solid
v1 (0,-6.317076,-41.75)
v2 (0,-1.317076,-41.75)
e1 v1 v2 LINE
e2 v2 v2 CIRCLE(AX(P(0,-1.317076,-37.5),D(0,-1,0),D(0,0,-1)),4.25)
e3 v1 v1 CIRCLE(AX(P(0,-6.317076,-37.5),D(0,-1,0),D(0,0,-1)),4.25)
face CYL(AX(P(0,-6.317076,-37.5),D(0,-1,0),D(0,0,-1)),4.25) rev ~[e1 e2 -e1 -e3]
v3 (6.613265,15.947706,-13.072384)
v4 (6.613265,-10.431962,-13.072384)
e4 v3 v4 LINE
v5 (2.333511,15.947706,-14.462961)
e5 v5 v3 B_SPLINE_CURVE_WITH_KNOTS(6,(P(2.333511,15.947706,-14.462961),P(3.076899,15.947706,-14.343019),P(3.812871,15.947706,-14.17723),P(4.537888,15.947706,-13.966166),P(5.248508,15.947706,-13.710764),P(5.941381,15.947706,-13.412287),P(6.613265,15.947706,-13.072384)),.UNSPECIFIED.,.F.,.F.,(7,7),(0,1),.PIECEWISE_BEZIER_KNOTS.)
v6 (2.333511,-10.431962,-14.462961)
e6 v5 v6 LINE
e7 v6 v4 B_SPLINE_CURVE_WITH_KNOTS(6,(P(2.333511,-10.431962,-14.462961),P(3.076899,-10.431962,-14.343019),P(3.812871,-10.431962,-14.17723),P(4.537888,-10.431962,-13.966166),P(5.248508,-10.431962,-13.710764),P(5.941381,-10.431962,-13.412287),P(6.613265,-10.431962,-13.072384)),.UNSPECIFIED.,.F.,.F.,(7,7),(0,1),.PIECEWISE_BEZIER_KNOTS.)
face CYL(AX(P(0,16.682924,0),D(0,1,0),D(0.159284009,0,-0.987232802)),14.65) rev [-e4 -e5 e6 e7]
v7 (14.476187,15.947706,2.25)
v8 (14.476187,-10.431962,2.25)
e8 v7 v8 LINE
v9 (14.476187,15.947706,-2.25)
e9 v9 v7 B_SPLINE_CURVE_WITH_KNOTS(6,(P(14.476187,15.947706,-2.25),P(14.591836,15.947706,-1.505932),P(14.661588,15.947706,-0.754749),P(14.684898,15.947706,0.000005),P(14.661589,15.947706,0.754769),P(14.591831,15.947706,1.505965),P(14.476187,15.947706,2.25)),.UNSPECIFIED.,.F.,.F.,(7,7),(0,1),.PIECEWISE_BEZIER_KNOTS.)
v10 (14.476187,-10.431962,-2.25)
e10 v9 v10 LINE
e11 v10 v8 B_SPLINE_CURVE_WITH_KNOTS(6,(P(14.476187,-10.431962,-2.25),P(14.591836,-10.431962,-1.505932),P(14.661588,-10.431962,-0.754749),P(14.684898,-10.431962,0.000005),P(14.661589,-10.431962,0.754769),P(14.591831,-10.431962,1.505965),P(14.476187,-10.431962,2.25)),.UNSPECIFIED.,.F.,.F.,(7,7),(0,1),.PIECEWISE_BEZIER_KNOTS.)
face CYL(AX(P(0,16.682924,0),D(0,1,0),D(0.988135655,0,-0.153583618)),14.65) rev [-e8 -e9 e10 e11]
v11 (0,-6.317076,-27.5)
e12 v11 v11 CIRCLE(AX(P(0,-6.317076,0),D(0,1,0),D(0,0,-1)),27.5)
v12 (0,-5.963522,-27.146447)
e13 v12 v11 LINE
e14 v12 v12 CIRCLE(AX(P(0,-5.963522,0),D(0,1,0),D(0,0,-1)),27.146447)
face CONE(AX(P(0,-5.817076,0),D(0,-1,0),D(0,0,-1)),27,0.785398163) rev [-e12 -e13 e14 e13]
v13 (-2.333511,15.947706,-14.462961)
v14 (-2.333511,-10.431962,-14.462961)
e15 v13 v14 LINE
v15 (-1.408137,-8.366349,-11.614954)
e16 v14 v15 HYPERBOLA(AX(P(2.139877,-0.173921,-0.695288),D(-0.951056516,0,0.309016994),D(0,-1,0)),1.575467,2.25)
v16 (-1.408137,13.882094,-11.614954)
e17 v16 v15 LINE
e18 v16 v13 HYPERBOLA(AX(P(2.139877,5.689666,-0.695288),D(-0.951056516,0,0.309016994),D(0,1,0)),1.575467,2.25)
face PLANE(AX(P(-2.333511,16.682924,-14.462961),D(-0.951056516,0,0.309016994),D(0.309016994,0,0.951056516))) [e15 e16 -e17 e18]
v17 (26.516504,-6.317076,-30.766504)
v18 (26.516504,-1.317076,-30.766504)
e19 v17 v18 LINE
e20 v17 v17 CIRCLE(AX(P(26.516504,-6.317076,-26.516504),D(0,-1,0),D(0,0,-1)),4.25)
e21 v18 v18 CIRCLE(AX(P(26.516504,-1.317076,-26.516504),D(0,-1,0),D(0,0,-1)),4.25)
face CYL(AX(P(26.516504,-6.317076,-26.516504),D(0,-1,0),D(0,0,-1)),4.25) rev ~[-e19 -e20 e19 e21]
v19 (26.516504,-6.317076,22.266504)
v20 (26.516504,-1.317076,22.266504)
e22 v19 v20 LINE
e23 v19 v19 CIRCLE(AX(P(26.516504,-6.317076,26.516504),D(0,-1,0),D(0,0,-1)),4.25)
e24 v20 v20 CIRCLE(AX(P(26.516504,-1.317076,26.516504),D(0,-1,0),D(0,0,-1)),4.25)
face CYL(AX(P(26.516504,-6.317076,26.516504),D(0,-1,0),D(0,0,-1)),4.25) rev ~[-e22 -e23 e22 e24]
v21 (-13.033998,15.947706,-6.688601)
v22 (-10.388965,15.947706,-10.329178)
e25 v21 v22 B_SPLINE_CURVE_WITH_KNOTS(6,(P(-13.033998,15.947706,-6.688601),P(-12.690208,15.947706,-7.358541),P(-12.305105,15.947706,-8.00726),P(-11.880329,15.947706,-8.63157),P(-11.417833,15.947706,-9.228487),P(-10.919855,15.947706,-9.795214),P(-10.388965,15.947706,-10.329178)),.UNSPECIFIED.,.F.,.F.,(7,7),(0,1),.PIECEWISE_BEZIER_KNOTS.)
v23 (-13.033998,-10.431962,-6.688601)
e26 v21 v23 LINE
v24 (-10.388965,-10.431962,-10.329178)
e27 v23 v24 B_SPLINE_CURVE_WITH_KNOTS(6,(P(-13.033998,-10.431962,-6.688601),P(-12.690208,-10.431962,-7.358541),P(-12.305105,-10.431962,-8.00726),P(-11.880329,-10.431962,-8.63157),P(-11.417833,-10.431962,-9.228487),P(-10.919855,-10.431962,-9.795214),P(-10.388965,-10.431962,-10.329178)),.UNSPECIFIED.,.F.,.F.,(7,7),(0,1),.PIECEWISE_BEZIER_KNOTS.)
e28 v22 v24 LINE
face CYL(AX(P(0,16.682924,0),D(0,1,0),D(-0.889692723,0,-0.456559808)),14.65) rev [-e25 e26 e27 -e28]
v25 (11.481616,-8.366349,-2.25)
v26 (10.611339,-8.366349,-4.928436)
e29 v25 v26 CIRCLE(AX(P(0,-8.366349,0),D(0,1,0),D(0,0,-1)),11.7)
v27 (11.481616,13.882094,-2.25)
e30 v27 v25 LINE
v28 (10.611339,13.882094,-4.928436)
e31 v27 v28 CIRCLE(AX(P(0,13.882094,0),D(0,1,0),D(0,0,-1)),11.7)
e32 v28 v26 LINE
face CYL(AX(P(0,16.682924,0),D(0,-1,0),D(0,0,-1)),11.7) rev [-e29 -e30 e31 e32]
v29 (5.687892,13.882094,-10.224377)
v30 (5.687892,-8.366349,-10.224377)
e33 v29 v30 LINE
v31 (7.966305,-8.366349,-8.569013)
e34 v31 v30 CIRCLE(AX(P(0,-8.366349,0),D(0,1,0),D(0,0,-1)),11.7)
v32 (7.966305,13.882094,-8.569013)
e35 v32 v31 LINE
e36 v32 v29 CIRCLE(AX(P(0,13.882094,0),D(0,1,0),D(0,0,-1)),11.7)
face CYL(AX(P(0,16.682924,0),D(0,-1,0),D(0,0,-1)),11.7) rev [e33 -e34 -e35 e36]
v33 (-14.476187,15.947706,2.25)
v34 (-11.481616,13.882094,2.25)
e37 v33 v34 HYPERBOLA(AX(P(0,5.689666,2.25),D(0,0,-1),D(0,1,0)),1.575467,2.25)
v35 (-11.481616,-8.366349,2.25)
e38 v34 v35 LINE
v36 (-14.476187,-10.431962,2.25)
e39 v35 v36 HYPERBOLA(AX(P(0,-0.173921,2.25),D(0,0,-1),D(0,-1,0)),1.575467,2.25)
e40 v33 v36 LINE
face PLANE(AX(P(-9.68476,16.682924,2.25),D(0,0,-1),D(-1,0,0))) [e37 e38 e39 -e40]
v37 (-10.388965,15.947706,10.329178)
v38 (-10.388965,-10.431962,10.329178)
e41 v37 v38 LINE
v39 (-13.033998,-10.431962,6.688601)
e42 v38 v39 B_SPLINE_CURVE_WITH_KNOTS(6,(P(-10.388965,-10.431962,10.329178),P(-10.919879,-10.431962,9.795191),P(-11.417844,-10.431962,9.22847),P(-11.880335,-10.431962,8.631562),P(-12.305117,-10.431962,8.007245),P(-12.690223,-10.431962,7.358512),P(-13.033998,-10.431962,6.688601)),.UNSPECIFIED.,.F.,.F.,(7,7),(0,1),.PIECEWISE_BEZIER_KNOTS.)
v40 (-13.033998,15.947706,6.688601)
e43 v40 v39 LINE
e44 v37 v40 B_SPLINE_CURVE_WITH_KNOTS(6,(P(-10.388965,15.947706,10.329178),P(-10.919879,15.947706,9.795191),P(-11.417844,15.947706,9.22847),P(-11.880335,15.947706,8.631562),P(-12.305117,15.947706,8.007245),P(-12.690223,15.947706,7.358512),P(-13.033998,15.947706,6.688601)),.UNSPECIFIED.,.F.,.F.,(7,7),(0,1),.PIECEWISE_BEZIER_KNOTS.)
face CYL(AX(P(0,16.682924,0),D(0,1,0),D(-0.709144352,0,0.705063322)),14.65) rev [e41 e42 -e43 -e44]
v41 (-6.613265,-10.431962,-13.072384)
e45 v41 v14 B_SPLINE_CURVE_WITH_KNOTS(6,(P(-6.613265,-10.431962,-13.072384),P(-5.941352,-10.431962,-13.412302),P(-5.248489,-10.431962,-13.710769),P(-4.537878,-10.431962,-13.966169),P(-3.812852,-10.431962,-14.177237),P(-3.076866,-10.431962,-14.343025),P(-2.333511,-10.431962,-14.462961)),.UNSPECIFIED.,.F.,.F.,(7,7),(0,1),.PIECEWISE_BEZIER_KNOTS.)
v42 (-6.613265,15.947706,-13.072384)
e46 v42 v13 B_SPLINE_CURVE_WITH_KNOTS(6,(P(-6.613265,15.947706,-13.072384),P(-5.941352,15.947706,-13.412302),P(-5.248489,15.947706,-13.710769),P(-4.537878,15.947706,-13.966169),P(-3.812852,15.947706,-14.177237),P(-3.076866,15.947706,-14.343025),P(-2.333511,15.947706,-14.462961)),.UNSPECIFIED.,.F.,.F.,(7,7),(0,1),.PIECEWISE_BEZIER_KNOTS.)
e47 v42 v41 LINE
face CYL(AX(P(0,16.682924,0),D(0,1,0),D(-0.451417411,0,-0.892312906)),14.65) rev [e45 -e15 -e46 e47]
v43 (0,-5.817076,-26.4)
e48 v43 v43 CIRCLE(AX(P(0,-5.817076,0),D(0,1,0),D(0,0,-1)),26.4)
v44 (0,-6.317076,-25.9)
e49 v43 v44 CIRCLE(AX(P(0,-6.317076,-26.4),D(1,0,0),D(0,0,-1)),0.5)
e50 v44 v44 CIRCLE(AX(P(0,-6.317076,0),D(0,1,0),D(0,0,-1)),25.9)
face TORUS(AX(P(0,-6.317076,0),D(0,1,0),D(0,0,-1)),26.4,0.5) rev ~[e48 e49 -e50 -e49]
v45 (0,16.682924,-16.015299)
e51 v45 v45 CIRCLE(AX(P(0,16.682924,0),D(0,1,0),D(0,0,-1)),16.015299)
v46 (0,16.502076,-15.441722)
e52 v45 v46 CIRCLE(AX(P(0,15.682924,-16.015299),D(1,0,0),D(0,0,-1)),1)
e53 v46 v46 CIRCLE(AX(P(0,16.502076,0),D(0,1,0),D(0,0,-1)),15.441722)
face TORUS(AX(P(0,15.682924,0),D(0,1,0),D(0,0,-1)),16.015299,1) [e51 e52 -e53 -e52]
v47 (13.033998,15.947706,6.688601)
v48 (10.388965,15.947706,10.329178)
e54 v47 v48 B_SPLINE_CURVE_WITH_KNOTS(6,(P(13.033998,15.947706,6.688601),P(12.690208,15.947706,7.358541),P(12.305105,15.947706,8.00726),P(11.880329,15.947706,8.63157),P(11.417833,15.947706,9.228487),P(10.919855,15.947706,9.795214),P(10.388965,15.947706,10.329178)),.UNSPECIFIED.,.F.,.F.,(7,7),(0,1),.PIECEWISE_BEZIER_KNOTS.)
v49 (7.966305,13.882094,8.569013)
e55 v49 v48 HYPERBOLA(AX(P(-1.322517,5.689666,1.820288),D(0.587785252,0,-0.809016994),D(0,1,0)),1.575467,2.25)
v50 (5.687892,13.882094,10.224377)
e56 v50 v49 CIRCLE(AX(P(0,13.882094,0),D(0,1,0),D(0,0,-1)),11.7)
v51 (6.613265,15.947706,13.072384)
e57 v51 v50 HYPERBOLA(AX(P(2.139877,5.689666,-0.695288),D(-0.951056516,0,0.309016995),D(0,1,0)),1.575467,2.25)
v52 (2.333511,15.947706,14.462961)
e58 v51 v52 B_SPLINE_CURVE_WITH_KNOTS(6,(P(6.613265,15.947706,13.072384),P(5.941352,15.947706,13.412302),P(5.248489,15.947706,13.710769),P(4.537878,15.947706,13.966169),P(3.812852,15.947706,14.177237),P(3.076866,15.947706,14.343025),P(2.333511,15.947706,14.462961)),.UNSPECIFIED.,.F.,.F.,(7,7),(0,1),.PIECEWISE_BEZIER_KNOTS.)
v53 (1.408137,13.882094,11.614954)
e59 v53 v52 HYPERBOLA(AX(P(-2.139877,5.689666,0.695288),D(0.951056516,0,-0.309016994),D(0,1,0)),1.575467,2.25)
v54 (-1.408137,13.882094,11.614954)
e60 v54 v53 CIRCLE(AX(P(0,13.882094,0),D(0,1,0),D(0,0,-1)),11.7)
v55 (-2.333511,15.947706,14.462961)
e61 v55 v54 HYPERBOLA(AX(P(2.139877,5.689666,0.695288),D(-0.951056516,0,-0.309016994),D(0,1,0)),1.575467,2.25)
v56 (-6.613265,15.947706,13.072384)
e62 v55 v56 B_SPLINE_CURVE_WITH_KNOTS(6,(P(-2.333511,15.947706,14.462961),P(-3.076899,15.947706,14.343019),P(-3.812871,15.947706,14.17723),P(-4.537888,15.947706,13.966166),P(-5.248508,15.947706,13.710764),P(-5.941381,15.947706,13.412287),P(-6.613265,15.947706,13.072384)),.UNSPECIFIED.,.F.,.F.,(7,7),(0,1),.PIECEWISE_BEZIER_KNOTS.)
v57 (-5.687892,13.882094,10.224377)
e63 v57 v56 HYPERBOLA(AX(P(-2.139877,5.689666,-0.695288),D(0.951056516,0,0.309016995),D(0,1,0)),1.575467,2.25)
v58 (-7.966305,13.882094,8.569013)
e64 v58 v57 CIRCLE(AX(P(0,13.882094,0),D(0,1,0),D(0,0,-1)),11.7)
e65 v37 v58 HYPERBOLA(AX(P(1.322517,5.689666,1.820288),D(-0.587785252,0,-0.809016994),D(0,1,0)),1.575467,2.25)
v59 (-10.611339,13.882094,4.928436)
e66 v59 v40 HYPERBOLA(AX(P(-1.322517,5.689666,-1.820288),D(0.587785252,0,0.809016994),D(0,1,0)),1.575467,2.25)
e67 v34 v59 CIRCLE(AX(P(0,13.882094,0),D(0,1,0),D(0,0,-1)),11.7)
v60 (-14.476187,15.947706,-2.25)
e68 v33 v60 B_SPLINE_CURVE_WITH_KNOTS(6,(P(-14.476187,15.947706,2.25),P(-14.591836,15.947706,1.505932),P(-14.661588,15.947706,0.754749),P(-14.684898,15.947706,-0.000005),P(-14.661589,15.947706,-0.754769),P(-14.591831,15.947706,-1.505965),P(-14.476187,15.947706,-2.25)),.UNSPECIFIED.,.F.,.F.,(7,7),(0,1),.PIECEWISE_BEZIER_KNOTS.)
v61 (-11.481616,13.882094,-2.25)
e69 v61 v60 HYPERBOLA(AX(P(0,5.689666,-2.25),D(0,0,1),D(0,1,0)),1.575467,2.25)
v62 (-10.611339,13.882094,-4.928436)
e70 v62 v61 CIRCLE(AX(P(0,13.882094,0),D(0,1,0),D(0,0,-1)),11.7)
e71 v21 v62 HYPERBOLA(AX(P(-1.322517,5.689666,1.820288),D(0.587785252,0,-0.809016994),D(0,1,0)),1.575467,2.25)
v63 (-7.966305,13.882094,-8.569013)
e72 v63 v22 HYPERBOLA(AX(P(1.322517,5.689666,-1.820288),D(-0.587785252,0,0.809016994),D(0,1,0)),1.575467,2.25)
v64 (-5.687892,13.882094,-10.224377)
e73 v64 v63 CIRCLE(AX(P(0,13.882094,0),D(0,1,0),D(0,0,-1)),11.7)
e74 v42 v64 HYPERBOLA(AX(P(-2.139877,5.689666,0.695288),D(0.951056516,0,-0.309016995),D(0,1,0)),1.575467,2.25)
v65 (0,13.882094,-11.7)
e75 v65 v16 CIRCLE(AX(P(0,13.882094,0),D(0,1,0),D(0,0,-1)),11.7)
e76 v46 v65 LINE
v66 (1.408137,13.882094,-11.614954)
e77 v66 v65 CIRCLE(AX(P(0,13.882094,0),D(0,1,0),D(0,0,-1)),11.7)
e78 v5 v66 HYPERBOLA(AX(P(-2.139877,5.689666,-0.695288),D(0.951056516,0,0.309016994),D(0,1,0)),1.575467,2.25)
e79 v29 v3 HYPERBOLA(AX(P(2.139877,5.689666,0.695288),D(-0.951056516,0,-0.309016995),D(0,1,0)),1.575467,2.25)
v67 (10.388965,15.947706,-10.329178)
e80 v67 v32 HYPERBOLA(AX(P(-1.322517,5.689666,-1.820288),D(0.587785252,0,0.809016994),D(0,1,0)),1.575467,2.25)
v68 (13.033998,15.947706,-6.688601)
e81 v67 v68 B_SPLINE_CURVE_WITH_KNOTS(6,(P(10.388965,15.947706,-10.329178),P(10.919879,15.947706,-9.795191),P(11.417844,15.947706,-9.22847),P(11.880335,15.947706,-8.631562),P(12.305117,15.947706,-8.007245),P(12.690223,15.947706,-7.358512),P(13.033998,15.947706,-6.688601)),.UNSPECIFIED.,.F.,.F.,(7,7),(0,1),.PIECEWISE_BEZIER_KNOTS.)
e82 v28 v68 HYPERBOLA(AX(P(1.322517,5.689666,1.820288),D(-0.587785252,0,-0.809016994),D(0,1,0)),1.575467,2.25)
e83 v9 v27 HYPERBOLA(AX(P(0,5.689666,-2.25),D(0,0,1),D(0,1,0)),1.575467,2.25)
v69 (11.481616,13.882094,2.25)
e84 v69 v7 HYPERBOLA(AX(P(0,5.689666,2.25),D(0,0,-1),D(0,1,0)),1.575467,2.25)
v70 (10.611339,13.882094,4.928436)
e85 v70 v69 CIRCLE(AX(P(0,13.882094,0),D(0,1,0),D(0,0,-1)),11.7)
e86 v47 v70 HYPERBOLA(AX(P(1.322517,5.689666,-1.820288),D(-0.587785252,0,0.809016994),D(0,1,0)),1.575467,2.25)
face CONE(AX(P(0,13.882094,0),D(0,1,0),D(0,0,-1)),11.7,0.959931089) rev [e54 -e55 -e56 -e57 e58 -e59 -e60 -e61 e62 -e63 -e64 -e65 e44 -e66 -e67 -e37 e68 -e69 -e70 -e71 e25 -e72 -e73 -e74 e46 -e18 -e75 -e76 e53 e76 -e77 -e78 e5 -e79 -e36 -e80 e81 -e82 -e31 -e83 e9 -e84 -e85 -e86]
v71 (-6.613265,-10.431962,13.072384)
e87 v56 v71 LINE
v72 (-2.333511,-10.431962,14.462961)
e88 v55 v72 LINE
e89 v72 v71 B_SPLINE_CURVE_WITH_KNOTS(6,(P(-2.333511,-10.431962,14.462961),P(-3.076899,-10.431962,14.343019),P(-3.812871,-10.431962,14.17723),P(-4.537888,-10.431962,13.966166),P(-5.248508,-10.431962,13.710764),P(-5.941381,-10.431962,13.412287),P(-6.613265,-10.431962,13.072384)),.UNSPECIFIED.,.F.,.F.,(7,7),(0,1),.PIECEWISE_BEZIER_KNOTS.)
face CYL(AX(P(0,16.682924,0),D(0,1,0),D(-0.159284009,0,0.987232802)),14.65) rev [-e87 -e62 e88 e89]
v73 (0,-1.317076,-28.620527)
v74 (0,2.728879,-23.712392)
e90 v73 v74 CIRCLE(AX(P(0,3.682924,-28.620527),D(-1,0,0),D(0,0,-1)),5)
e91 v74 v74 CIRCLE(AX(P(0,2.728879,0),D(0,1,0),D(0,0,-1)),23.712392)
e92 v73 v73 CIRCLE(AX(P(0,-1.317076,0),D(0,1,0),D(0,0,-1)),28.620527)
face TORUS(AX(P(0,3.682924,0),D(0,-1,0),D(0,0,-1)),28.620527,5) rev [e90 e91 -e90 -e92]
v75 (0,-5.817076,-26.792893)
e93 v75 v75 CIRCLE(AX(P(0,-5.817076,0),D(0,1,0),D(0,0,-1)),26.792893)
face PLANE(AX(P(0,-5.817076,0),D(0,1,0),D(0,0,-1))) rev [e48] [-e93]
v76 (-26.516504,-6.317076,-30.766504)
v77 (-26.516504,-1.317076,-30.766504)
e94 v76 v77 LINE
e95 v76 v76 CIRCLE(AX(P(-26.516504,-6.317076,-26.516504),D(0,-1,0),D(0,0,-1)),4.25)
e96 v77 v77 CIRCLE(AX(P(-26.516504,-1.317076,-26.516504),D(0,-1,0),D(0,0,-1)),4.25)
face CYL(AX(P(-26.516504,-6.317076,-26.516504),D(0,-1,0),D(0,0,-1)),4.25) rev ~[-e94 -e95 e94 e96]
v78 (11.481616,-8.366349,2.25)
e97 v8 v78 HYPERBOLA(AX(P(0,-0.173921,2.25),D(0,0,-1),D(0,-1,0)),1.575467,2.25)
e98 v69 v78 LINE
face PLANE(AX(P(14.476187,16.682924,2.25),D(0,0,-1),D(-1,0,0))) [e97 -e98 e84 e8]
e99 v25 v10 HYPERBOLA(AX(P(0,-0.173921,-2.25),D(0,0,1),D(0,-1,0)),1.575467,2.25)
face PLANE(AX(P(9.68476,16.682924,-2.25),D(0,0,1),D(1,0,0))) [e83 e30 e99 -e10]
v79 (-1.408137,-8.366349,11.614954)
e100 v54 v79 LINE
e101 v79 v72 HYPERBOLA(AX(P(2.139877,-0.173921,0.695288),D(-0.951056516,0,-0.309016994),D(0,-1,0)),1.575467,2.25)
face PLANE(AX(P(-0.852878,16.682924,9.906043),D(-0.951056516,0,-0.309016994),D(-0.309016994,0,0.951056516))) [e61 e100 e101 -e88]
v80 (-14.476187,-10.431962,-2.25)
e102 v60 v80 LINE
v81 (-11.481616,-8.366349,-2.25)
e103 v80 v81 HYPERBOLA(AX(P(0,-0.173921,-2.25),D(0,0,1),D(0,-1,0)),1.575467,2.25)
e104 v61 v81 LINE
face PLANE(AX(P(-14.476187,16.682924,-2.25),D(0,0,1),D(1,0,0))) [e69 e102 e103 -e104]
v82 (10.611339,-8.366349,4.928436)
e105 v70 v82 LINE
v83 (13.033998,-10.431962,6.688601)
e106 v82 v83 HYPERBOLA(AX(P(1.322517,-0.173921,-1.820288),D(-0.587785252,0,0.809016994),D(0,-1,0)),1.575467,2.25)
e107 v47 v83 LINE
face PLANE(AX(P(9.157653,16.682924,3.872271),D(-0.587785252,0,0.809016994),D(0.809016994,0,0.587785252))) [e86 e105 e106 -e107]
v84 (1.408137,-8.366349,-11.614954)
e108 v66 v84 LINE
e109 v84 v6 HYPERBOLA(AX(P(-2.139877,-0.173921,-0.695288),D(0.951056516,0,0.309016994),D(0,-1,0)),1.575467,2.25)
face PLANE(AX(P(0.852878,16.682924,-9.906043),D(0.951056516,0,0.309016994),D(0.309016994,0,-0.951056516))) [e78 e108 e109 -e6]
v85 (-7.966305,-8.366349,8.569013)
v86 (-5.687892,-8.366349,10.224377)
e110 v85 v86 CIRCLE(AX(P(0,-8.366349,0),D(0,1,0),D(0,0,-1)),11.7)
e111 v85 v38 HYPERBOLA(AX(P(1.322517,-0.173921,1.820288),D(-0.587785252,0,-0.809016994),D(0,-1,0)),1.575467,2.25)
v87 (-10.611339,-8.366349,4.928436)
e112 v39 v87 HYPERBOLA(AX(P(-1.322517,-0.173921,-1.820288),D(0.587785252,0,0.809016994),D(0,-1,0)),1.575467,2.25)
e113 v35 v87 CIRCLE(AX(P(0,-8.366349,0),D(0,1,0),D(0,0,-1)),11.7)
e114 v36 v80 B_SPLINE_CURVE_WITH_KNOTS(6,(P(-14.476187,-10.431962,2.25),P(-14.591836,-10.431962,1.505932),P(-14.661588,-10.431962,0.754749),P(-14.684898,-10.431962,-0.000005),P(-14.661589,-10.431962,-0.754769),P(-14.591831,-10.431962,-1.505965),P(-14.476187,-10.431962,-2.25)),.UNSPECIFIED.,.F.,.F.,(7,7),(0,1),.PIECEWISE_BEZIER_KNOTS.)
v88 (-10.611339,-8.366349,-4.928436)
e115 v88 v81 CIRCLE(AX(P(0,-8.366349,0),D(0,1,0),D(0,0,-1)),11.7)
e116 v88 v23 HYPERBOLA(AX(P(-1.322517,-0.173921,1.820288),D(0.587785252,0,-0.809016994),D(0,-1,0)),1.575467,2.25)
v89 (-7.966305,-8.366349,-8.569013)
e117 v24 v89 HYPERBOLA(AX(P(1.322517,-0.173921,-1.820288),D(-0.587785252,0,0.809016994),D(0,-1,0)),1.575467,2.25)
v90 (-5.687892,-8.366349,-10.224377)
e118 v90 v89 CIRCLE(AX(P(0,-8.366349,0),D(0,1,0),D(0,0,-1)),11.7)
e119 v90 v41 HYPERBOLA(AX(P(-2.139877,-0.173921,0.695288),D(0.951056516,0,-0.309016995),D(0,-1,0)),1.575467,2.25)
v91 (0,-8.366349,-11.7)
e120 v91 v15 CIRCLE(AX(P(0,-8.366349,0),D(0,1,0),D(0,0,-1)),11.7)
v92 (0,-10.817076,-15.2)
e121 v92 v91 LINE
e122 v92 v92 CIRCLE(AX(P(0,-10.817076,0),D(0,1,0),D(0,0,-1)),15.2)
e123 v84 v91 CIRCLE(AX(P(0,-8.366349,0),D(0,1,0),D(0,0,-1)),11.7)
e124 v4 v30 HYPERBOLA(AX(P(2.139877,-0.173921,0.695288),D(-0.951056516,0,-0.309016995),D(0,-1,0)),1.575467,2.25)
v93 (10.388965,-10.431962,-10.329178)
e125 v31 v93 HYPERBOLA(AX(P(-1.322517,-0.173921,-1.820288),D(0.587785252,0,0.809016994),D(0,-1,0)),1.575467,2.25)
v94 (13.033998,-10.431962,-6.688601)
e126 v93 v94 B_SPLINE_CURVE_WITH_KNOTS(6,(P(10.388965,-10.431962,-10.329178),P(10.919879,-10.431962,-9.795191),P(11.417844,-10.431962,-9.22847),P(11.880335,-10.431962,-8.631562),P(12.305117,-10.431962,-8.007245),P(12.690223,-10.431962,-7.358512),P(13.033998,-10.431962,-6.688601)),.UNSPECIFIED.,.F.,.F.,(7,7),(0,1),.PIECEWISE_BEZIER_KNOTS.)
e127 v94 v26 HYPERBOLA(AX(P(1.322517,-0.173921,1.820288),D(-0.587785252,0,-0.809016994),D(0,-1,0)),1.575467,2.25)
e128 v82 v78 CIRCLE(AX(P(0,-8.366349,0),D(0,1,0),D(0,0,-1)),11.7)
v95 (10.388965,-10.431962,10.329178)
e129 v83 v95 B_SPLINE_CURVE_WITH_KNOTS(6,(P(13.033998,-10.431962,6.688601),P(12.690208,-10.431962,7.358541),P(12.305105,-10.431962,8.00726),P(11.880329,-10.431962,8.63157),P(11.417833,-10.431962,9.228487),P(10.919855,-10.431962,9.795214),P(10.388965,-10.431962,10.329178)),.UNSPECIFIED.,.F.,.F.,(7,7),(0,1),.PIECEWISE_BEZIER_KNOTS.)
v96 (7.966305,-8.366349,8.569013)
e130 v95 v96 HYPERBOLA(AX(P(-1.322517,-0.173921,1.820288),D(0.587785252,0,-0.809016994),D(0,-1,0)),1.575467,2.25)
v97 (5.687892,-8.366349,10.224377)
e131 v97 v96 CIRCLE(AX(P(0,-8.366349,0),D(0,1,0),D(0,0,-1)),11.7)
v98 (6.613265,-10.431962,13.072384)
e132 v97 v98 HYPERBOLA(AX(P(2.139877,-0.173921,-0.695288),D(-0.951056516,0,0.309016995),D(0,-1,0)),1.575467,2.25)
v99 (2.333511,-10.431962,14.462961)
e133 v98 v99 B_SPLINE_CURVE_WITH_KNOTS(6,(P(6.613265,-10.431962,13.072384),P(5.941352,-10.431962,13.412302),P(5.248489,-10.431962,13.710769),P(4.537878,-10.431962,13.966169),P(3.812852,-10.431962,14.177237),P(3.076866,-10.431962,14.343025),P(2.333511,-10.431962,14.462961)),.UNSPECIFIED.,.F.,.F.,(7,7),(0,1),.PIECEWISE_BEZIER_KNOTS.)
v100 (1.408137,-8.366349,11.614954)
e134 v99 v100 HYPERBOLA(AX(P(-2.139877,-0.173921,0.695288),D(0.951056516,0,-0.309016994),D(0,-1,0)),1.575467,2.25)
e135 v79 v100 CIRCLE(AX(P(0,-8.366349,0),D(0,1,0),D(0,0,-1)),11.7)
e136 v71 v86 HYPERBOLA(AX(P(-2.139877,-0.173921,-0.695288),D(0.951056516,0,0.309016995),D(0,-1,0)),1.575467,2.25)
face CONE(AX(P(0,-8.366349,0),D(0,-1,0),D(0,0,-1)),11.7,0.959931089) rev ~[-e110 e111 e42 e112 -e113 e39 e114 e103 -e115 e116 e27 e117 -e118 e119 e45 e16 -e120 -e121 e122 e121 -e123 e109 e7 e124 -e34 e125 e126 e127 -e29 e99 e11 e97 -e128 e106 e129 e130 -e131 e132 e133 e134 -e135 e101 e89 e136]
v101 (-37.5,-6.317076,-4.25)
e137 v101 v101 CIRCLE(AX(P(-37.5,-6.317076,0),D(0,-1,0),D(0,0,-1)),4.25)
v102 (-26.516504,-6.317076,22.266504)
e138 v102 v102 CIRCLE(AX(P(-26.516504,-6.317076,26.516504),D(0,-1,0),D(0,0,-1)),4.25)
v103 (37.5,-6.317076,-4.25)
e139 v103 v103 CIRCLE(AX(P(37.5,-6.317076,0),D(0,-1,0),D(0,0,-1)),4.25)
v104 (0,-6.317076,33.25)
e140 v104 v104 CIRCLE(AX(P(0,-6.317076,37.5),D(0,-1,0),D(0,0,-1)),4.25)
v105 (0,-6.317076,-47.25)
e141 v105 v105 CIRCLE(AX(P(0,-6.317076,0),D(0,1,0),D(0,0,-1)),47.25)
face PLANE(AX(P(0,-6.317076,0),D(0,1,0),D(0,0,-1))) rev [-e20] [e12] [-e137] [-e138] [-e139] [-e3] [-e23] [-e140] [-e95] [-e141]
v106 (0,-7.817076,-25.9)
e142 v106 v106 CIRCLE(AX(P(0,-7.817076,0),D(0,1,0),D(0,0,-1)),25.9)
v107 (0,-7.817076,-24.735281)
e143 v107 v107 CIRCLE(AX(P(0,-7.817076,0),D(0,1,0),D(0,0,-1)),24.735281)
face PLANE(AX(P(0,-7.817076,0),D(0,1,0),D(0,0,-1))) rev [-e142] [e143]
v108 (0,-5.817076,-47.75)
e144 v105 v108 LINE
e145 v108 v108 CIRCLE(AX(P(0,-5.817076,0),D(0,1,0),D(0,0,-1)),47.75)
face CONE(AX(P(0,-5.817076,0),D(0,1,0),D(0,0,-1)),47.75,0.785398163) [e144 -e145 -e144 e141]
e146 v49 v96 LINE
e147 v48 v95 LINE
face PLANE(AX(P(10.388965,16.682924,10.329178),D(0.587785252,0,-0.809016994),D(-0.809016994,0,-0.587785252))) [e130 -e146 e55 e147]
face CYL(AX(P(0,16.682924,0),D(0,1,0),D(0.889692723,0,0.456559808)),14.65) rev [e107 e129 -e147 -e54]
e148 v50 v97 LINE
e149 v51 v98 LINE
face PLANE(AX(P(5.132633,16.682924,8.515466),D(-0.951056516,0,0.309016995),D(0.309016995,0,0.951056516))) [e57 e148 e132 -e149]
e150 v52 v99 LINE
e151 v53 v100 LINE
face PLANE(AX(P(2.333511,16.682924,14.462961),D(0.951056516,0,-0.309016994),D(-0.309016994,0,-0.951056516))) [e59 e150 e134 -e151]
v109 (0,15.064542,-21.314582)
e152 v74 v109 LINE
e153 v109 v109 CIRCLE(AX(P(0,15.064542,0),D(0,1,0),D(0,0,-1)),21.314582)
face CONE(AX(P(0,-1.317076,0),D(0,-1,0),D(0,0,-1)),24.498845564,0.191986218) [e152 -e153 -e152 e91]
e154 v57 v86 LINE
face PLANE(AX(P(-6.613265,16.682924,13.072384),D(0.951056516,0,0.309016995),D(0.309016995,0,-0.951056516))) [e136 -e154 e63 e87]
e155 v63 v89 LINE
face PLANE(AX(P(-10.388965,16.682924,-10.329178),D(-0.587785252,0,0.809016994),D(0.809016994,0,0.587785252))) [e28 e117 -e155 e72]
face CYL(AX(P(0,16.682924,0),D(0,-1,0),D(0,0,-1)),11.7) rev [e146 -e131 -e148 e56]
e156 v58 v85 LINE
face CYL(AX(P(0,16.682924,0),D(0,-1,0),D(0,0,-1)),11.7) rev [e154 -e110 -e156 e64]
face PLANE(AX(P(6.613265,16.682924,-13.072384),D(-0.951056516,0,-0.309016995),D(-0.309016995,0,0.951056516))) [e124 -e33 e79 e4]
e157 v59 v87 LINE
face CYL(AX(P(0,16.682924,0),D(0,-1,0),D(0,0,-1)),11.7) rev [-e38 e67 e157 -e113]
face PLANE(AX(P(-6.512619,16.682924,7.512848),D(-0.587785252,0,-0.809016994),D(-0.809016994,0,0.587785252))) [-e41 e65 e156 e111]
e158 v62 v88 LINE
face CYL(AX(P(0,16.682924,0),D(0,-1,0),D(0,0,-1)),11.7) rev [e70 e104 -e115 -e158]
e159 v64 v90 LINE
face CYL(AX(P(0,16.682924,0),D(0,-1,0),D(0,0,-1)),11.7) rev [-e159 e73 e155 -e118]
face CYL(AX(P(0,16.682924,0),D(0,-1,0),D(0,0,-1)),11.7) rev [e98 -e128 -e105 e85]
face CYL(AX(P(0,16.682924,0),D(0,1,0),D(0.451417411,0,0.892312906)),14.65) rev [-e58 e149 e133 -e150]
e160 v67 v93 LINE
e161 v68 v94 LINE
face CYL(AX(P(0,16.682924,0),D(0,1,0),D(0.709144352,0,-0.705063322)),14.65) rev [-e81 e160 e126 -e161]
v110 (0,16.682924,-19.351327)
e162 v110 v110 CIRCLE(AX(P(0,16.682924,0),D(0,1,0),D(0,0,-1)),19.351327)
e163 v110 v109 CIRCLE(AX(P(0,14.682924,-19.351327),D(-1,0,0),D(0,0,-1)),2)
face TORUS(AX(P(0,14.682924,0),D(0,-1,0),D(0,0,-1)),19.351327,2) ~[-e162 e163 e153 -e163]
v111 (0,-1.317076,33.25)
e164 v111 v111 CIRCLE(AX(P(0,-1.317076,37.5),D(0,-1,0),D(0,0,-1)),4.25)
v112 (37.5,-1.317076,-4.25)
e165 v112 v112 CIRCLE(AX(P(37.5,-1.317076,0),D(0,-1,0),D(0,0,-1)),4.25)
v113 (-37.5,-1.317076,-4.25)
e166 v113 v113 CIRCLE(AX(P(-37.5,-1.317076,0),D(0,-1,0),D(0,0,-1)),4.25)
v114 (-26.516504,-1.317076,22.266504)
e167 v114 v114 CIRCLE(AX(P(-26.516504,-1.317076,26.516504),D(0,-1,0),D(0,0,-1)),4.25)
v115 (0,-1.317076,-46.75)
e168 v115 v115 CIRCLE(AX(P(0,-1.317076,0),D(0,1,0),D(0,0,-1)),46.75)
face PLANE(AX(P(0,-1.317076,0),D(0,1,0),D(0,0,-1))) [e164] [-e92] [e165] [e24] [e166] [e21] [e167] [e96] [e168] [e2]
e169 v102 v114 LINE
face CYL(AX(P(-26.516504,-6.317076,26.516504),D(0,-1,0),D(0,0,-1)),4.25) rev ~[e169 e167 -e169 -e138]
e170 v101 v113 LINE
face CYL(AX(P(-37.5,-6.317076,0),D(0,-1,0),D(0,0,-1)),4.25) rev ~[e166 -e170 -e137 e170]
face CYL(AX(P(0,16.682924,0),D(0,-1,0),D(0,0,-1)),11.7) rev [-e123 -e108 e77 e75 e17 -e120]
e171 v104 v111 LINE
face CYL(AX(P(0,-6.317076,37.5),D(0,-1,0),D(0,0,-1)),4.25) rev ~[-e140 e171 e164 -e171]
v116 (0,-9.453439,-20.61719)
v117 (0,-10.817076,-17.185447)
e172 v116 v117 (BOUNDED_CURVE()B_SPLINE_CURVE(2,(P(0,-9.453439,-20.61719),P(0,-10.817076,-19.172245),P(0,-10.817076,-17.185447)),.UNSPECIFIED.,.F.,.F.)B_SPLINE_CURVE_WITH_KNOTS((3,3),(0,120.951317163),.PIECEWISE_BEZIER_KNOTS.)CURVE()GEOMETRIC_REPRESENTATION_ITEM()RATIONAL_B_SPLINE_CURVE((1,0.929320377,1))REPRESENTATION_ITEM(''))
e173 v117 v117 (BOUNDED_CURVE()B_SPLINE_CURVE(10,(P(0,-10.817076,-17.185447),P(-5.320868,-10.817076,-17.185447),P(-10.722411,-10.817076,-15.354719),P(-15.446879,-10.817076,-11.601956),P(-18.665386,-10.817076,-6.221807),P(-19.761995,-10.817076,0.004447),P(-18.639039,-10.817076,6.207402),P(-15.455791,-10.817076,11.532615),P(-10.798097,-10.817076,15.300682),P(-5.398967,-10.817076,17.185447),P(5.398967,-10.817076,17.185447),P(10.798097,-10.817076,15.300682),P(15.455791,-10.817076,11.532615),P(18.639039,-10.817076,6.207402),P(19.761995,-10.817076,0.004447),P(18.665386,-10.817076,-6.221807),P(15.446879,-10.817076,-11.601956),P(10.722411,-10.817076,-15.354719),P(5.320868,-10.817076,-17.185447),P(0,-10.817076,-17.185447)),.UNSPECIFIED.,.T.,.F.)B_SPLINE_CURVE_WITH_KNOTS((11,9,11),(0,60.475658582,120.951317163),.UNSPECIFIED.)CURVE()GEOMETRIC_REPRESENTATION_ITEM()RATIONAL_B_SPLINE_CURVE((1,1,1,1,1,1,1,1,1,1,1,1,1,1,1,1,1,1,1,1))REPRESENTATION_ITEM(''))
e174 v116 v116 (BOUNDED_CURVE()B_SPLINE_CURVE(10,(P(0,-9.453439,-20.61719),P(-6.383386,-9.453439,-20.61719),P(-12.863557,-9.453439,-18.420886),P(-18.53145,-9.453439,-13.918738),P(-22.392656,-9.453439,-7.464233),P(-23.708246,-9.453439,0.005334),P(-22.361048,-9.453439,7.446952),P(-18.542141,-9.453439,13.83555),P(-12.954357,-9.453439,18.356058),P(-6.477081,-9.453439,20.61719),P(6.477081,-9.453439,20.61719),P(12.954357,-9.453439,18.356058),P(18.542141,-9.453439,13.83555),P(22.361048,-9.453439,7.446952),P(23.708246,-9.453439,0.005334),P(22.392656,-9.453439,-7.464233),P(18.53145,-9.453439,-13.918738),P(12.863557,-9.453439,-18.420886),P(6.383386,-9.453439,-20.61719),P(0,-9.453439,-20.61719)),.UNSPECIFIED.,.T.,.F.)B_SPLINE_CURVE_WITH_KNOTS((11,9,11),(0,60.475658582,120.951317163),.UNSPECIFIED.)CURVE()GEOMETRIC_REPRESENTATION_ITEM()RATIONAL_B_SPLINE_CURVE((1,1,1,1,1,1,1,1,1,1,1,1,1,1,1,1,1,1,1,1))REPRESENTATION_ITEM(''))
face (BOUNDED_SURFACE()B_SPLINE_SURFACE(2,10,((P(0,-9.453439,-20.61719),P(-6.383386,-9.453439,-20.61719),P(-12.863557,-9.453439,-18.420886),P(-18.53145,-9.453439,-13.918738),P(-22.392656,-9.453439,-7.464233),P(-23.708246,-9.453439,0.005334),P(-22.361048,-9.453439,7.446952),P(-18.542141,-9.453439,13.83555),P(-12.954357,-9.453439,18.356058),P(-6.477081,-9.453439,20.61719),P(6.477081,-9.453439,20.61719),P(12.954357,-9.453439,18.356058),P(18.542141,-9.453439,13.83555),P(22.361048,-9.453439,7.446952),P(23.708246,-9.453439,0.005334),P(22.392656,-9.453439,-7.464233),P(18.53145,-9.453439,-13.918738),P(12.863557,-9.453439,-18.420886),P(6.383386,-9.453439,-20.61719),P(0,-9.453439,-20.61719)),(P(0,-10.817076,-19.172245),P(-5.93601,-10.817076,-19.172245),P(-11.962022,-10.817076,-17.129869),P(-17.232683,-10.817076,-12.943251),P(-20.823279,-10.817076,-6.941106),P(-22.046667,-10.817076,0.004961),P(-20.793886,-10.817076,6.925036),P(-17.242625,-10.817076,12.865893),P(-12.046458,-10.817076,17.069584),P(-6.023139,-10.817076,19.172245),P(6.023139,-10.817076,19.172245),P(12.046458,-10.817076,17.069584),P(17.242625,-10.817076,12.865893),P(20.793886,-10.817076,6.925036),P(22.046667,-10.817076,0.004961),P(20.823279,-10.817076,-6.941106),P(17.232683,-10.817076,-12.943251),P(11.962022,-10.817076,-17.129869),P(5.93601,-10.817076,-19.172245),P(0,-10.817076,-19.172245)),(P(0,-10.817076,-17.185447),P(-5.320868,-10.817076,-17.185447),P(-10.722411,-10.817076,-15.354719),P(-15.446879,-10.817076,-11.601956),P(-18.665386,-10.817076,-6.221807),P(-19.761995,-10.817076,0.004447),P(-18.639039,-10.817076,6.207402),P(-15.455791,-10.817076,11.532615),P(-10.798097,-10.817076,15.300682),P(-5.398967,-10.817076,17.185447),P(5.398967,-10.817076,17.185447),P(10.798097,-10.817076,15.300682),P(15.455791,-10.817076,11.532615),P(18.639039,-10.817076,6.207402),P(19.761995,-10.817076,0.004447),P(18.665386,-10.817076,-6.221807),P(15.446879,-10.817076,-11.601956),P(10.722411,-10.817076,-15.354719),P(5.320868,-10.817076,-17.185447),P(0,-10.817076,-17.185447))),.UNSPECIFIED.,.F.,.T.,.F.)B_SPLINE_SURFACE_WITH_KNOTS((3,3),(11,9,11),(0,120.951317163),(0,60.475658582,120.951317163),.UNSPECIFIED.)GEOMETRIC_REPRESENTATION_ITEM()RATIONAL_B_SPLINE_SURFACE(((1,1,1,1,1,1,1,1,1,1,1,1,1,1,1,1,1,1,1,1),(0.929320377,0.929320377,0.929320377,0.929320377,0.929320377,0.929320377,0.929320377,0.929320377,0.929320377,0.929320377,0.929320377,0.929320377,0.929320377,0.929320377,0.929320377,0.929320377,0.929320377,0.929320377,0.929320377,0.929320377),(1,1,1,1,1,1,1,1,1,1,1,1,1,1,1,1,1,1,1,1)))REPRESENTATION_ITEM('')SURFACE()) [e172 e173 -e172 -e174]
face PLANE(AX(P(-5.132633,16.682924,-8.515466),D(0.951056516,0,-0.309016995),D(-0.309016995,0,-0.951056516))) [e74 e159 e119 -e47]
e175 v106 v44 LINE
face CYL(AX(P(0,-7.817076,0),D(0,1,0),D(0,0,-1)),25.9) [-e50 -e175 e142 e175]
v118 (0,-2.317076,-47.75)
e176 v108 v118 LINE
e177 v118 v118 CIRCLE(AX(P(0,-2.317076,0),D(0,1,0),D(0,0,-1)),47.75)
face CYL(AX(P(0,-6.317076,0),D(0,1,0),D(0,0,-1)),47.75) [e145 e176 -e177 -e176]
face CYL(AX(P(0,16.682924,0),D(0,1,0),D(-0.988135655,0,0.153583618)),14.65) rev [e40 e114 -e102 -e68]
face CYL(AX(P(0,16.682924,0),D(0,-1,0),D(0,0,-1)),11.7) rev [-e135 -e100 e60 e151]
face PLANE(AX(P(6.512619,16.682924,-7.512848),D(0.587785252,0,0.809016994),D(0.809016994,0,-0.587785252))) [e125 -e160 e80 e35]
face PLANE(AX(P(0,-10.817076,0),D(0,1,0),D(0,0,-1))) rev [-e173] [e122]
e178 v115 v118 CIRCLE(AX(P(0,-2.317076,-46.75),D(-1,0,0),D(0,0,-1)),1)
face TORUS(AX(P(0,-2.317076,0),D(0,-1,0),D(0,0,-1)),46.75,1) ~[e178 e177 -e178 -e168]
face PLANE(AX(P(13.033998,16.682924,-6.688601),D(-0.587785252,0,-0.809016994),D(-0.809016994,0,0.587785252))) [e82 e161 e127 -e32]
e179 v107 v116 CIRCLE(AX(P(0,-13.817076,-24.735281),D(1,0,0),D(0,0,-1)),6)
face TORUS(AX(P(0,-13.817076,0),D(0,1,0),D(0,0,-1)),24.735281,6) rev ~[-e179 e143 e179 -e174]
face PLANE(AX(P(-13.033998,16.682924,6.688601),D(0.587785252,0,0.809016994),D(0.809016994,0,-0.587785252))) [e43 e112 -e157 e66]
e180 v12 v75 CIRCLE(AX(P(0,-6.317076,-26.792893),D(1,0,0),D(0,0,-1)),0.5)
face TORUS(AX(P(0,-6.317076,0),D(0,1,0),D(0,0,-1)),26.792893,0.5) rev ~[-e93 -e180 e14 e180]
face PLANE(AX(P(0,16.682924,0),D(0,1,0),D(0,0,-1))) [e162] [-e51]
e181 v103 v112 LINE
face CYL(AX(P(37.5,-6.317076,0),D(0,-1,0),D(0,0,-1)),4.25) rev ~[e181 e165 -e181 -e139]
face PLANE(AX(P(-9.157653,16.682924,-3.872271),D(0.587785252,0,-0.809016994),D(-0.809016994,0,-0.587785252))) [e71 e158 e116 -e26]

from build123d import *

# Parameters (mm, degrees)
FILETE1_R             = 5
CHANFRO1_SIZE         = 4
CHANFRO1_SIZE2        = 2.800830153
CHANFRO2_SIZE         = 3.5
CHANFRO2_SIZE2        = 2.450726384
FILETE2_R             = 2
CORTE_EXTRUS_O1_DEPTH = 73.913476121
FILETE3_R             = 1
FILETE4_R             = 1
FILETE5_R             = 0.5
FILETE6_R             = 6
FILETE7_R             = 5
CHANFRO3_SIZE         = 0.5
ESBO_O3_R             = 4.25
CORTE_EXTRUS_O2_DEPTH = 10


with BuildPart() as part:
    # Esboço1 → Revolução1 (revolve)
    with BuildSketch(Plane.XY, mode=Mode.PRIVATE) as revolu_o1_sk:
        Polygon((11.7, 16.682924335), (11.7, -10.817075665), (19.25, -10.817075665), (22.25, -7.817075665), (25.9, -7.817075665), (25.9, -5.817075665), (27, -5.817075665), (27.5, -6.317075665), (47.75, -6.317075665), (47.75, -1.317075665), (24.498845564, -1.317075665), (21, 16.682924335), align=None)
    revolve(revolu_o1_sk.sketch.rotate(Axis((0, -45.696625767, 0), (0, 1, 0)), 90), axis=Axis((0, -45.696625767, 0), (0, 1, 0)))

    # Filete1
    filete1_edges = [part.edges().sort_by_distance(p)[0] for p in [
        (0, -1.317075665, 24.498845564),
    ]]
    fillet(filete1_edges, radius=FILETE1_R)

    # Chanfro1
    chanfro1_edges = [part.edges().sort_by_distance(p)[0] for p in [
        (0, 16.682924335, 11.7),
    ]]
    chanfro1_side = [part.faces().sort_by_distance(p)[0] for p in [
        (0, 16.682924335, 20.406030304),
    ]]
    chamfer(chanfro1_edges, length=CHANFRO1_SIZE, length2=CHANFRO1_SIZE2, reference=chanfro1_side[0])

    # Chanfro2
    chanfro2_edges = [part.edges().sort_by_distance(p)[0] for p in [
        (0, -10.817075665, 11.7),
    ]]
    chanfro2_side = [part.faces().sort_by_distance(p)[0] for p in [
        (0, -10.817075665, 12.244472222),
    ]]
    chamfer(chanfro2_edges, length=CHANFRO2_SIZE, length2=CHANFRO2_SIZE2, reference=chanfro2_side[0])

    # Filete2
    filete2_edges = [part.edges().sort_by_distance(p)[0] for p in [
        (0, 16.682924335, 21),
    ]]
    fillet(filete2_edges, radius=FILETE2_R)

    # Esboço2 → Corte-extrusão1 (cut, through all)
    with BuildSketch(Plane(origin=(0, 16.682924335, 0), x_dir=(1, 0, 0), z_dir=(0, 1, 0))):
        with BuildLine():
            Line((-9.684760325, 2.25), (-9.684760325, -2.25))
            Line((-9.684760325, -2.25), (-14.476187343, -2.25))
            ThreePointArc((-14.476187343, -2.25), (-14.65, 0), (-14.476187343, 2.25))
            Line((-14.476187343, 2.25), (-9.684760325, 2.25))
        make_face()
        with BuildLine():
            Line((-6.512618871, 7.512847528), (-9.157652507, 3.872271053))
            Line((-9.157652507, 3.872271053), (-13.033998392, 6.688601193))
            ThreePointArc((-13.033998392, 6.688601193), (-11.852098968, 8.611053946), (-10.388964757, 10.329177667))
            Line((-10.388964757, 10.329177667), (-6.512618871, 7.512847528))
        make_face()
        with BuildLine():
            Line((-0.852878365, 9.906042653), (-5.132632688, 8.515466178))
            Line((-5.132632688, 8.515466178), (-6.613265065, 13.072384067))
            ThreePointArc((-6.613265065, 13.072384067), (-4.527098968, 13.932977964), (-2.333510741, 14.462960541))
            Line((-2.333510741, 14.462960541), (-0.852878365, 9.906042653))
        make_face()
        with BuildLine():
            Line((5.132632688, 8.515466178), (0.852878365, 9.906042653))
            Line((0.852878365, 9.906042653), (2.333510741, 14.462960541))
            ThreePointArc((2.333510741, 14.462960541), (4.527098968, 13.932977964), (6.613265065, 13.072384067))
            Line((6.613265065, 13.072384067), (5.132632688, 8.515466178))
        make_face()
        with BuildLine():
            Line((9.157652507, 3.872271053), (6.512618871, 7.512847528))
            Line((6.512618871, 7.512847528), (10.388964757, 10.329177667))
            ThreePointArc((10.388964757, 10.329177667), (11.852098968, 8.611053946), (13.033998392, 6.688601193))
            Line((13.033998392, 6.688601193), (9.157652507, 3.872271053))
        make_face()
        with BuildLine():
            Line((9.684760325, -2.25), (9.684760325, 2.25))
            Line((9.684760325, 2.25), (14.476187343, 2.25))
            ThreePointArc((14.476187343, 2.25), (14.65, 0), (14.476187343, -2.25))
            Line((14.476187343, -2.25), (9.684760325, -2.25))
        make_face()
        with BuildLine():
            Line((6.512618871, -7.512847528), (9.157652507, -3.872271053))
            Line((9.157652507, -3.872271053), (13.033998392, -6.688601193))
            ThreePointArc((13.033998392, -6.688601193), (11.852098968, -8.611053946), (10.388964757, -10.329177667))
            Line((10.388964757, -10.329177667), (6.512618871, -7.512847528))
        make_face()
        with BuildLine():
            Line((0.852878365, -9.906042653), (5.132632688, -8.515466178))
            Line((5.132632688, -8.515466178), (6.613265065, -13.072384067))
            ThreePointArc((6.613265065, -13.072384067), (4.527098968, -13.932977964), (2.333510741, -14.462960541))
            Line((2.333510741, -14.462960541), (0.852878365, -9.906042653))
        make_face()
        with BuildLine():
            Line((-5.132632688, -8.515466178), (-0.852878365, -9.906042653))
            Line((-0.852878365, -9.906042653), (-2.333510741, -14.462960541))
            ThreePointArc((-2.333510741, -14.462960541), (-4.527098968, -13.932977964), (-6.613265065, -13.072384067))
            Line((-6.613265065, -13.072384067), (-5.132632688, -8.515466178))
        make_face()
        with BuildLine():
            Line((-9.157652507, -3.872271053), (-6.512618871, -7.512847528))
            Line((-6.512618871, -7.512847528), (-10.388964757, -10.329177667))
            ThreePointArc((-10.388964757, -10.329177667), (-11.852098968, -8.611053946), (-13.033998392, -6.688601193))
            Line((-13.033998392, -6.688601193), (-9.157652507, -3.872271053))
        make_face()
    extrude(amount=-CORTE_EXTRUS_O1_DEPTH, mode=Mode.SUBTRACT)

    # Filete3
    filete3_edges = [part.edges().sort_by_distance(p)[0] for p in [
        (0, 16.682924335, 15.7),
    ]]
    fillet(filete3_edges, radius=FILETE3_R)

    # Filete4
    filete4_edges = [part.edges().sort_by_distance(p)[0] for p in [
        (0, -1.317075665, 47.75),
    ]]
    fillet(filete4_edges, radius=FILETE4_R)

    # Filete5
    filete5_edges = [part.edges().sort_by_distance(p)[0] for p in [
        (0, -5.817075665, 27),
        (0, -5.817075665, 25.9),
    ]]
    fillet(filete5_edges, radius=FILETE5_R)

    # Filete6
    filete6_edges = [part.edges().sort_by_distance(p)[0] for p in [
        (0, -7.817075665, 22.25),
    ]]
    fillet(filete6_edges, radius=FILETE6_R)

    # Filete7
    filete7_edges = [part.edges().sort_by_distance(p)[0] for p in [
        (0, -10.817075665, 19.25),
    ]]
    fillet(filete7_edges, radius=FILETE7_R)

    # Chanfro3
    chanfro3_edges = [part.edges().sort_by_distance(p)[0] for p in [
        (0, -6.317075665, 47.75),
    ]]
    chamfer(chanfro3_edges, length=CHANFRO3_SIZE)

    # Esboço3 → Corte-extrusão2 (cut)
    with BuildSketch(Plane.XZ.offset(6.317075665)):
        with Locations(Location((-37.5, 0, 0), (0, 0, 270))):
            Circle(ESBO_O3_R)
        with Locations(Location((-26.516504294, 26.516504294, 0), (0, 0, 270))):
            Circle(ESBO_O3_R)
        with Locations(Location((0, 37.5, 0), (0, 0, 270))):
            Circle(ESBO_O3_R)
        with Locations(Location((26.516504294, 26.516504294, 0), (0, 0, 270))):
            Circle(ESBO_O3_R)
        with Locations(Location((37.5, 0, 0), (0, 0, 270))):
            Circle(ESBO_O3_R)
        with Locations(Location((26.516504294, -26.516504294, 0), (0, 0, 270))):
            Circle(ESBO_O3_R)
        with Locations(Location((0, -37.5, 0), (0, 0, 270))):
            Circle(ESBO_O3_R)
        with Locations(Location((-26.516504294, -26.516504294, 0), (0, 0, 270))):
            Circle(ESBO_O3_R)
    extrude(amount=-CORTE_EXTRUS_O2_DEPTH, mode=Mode.SUBTRACT)


solid = part.part
